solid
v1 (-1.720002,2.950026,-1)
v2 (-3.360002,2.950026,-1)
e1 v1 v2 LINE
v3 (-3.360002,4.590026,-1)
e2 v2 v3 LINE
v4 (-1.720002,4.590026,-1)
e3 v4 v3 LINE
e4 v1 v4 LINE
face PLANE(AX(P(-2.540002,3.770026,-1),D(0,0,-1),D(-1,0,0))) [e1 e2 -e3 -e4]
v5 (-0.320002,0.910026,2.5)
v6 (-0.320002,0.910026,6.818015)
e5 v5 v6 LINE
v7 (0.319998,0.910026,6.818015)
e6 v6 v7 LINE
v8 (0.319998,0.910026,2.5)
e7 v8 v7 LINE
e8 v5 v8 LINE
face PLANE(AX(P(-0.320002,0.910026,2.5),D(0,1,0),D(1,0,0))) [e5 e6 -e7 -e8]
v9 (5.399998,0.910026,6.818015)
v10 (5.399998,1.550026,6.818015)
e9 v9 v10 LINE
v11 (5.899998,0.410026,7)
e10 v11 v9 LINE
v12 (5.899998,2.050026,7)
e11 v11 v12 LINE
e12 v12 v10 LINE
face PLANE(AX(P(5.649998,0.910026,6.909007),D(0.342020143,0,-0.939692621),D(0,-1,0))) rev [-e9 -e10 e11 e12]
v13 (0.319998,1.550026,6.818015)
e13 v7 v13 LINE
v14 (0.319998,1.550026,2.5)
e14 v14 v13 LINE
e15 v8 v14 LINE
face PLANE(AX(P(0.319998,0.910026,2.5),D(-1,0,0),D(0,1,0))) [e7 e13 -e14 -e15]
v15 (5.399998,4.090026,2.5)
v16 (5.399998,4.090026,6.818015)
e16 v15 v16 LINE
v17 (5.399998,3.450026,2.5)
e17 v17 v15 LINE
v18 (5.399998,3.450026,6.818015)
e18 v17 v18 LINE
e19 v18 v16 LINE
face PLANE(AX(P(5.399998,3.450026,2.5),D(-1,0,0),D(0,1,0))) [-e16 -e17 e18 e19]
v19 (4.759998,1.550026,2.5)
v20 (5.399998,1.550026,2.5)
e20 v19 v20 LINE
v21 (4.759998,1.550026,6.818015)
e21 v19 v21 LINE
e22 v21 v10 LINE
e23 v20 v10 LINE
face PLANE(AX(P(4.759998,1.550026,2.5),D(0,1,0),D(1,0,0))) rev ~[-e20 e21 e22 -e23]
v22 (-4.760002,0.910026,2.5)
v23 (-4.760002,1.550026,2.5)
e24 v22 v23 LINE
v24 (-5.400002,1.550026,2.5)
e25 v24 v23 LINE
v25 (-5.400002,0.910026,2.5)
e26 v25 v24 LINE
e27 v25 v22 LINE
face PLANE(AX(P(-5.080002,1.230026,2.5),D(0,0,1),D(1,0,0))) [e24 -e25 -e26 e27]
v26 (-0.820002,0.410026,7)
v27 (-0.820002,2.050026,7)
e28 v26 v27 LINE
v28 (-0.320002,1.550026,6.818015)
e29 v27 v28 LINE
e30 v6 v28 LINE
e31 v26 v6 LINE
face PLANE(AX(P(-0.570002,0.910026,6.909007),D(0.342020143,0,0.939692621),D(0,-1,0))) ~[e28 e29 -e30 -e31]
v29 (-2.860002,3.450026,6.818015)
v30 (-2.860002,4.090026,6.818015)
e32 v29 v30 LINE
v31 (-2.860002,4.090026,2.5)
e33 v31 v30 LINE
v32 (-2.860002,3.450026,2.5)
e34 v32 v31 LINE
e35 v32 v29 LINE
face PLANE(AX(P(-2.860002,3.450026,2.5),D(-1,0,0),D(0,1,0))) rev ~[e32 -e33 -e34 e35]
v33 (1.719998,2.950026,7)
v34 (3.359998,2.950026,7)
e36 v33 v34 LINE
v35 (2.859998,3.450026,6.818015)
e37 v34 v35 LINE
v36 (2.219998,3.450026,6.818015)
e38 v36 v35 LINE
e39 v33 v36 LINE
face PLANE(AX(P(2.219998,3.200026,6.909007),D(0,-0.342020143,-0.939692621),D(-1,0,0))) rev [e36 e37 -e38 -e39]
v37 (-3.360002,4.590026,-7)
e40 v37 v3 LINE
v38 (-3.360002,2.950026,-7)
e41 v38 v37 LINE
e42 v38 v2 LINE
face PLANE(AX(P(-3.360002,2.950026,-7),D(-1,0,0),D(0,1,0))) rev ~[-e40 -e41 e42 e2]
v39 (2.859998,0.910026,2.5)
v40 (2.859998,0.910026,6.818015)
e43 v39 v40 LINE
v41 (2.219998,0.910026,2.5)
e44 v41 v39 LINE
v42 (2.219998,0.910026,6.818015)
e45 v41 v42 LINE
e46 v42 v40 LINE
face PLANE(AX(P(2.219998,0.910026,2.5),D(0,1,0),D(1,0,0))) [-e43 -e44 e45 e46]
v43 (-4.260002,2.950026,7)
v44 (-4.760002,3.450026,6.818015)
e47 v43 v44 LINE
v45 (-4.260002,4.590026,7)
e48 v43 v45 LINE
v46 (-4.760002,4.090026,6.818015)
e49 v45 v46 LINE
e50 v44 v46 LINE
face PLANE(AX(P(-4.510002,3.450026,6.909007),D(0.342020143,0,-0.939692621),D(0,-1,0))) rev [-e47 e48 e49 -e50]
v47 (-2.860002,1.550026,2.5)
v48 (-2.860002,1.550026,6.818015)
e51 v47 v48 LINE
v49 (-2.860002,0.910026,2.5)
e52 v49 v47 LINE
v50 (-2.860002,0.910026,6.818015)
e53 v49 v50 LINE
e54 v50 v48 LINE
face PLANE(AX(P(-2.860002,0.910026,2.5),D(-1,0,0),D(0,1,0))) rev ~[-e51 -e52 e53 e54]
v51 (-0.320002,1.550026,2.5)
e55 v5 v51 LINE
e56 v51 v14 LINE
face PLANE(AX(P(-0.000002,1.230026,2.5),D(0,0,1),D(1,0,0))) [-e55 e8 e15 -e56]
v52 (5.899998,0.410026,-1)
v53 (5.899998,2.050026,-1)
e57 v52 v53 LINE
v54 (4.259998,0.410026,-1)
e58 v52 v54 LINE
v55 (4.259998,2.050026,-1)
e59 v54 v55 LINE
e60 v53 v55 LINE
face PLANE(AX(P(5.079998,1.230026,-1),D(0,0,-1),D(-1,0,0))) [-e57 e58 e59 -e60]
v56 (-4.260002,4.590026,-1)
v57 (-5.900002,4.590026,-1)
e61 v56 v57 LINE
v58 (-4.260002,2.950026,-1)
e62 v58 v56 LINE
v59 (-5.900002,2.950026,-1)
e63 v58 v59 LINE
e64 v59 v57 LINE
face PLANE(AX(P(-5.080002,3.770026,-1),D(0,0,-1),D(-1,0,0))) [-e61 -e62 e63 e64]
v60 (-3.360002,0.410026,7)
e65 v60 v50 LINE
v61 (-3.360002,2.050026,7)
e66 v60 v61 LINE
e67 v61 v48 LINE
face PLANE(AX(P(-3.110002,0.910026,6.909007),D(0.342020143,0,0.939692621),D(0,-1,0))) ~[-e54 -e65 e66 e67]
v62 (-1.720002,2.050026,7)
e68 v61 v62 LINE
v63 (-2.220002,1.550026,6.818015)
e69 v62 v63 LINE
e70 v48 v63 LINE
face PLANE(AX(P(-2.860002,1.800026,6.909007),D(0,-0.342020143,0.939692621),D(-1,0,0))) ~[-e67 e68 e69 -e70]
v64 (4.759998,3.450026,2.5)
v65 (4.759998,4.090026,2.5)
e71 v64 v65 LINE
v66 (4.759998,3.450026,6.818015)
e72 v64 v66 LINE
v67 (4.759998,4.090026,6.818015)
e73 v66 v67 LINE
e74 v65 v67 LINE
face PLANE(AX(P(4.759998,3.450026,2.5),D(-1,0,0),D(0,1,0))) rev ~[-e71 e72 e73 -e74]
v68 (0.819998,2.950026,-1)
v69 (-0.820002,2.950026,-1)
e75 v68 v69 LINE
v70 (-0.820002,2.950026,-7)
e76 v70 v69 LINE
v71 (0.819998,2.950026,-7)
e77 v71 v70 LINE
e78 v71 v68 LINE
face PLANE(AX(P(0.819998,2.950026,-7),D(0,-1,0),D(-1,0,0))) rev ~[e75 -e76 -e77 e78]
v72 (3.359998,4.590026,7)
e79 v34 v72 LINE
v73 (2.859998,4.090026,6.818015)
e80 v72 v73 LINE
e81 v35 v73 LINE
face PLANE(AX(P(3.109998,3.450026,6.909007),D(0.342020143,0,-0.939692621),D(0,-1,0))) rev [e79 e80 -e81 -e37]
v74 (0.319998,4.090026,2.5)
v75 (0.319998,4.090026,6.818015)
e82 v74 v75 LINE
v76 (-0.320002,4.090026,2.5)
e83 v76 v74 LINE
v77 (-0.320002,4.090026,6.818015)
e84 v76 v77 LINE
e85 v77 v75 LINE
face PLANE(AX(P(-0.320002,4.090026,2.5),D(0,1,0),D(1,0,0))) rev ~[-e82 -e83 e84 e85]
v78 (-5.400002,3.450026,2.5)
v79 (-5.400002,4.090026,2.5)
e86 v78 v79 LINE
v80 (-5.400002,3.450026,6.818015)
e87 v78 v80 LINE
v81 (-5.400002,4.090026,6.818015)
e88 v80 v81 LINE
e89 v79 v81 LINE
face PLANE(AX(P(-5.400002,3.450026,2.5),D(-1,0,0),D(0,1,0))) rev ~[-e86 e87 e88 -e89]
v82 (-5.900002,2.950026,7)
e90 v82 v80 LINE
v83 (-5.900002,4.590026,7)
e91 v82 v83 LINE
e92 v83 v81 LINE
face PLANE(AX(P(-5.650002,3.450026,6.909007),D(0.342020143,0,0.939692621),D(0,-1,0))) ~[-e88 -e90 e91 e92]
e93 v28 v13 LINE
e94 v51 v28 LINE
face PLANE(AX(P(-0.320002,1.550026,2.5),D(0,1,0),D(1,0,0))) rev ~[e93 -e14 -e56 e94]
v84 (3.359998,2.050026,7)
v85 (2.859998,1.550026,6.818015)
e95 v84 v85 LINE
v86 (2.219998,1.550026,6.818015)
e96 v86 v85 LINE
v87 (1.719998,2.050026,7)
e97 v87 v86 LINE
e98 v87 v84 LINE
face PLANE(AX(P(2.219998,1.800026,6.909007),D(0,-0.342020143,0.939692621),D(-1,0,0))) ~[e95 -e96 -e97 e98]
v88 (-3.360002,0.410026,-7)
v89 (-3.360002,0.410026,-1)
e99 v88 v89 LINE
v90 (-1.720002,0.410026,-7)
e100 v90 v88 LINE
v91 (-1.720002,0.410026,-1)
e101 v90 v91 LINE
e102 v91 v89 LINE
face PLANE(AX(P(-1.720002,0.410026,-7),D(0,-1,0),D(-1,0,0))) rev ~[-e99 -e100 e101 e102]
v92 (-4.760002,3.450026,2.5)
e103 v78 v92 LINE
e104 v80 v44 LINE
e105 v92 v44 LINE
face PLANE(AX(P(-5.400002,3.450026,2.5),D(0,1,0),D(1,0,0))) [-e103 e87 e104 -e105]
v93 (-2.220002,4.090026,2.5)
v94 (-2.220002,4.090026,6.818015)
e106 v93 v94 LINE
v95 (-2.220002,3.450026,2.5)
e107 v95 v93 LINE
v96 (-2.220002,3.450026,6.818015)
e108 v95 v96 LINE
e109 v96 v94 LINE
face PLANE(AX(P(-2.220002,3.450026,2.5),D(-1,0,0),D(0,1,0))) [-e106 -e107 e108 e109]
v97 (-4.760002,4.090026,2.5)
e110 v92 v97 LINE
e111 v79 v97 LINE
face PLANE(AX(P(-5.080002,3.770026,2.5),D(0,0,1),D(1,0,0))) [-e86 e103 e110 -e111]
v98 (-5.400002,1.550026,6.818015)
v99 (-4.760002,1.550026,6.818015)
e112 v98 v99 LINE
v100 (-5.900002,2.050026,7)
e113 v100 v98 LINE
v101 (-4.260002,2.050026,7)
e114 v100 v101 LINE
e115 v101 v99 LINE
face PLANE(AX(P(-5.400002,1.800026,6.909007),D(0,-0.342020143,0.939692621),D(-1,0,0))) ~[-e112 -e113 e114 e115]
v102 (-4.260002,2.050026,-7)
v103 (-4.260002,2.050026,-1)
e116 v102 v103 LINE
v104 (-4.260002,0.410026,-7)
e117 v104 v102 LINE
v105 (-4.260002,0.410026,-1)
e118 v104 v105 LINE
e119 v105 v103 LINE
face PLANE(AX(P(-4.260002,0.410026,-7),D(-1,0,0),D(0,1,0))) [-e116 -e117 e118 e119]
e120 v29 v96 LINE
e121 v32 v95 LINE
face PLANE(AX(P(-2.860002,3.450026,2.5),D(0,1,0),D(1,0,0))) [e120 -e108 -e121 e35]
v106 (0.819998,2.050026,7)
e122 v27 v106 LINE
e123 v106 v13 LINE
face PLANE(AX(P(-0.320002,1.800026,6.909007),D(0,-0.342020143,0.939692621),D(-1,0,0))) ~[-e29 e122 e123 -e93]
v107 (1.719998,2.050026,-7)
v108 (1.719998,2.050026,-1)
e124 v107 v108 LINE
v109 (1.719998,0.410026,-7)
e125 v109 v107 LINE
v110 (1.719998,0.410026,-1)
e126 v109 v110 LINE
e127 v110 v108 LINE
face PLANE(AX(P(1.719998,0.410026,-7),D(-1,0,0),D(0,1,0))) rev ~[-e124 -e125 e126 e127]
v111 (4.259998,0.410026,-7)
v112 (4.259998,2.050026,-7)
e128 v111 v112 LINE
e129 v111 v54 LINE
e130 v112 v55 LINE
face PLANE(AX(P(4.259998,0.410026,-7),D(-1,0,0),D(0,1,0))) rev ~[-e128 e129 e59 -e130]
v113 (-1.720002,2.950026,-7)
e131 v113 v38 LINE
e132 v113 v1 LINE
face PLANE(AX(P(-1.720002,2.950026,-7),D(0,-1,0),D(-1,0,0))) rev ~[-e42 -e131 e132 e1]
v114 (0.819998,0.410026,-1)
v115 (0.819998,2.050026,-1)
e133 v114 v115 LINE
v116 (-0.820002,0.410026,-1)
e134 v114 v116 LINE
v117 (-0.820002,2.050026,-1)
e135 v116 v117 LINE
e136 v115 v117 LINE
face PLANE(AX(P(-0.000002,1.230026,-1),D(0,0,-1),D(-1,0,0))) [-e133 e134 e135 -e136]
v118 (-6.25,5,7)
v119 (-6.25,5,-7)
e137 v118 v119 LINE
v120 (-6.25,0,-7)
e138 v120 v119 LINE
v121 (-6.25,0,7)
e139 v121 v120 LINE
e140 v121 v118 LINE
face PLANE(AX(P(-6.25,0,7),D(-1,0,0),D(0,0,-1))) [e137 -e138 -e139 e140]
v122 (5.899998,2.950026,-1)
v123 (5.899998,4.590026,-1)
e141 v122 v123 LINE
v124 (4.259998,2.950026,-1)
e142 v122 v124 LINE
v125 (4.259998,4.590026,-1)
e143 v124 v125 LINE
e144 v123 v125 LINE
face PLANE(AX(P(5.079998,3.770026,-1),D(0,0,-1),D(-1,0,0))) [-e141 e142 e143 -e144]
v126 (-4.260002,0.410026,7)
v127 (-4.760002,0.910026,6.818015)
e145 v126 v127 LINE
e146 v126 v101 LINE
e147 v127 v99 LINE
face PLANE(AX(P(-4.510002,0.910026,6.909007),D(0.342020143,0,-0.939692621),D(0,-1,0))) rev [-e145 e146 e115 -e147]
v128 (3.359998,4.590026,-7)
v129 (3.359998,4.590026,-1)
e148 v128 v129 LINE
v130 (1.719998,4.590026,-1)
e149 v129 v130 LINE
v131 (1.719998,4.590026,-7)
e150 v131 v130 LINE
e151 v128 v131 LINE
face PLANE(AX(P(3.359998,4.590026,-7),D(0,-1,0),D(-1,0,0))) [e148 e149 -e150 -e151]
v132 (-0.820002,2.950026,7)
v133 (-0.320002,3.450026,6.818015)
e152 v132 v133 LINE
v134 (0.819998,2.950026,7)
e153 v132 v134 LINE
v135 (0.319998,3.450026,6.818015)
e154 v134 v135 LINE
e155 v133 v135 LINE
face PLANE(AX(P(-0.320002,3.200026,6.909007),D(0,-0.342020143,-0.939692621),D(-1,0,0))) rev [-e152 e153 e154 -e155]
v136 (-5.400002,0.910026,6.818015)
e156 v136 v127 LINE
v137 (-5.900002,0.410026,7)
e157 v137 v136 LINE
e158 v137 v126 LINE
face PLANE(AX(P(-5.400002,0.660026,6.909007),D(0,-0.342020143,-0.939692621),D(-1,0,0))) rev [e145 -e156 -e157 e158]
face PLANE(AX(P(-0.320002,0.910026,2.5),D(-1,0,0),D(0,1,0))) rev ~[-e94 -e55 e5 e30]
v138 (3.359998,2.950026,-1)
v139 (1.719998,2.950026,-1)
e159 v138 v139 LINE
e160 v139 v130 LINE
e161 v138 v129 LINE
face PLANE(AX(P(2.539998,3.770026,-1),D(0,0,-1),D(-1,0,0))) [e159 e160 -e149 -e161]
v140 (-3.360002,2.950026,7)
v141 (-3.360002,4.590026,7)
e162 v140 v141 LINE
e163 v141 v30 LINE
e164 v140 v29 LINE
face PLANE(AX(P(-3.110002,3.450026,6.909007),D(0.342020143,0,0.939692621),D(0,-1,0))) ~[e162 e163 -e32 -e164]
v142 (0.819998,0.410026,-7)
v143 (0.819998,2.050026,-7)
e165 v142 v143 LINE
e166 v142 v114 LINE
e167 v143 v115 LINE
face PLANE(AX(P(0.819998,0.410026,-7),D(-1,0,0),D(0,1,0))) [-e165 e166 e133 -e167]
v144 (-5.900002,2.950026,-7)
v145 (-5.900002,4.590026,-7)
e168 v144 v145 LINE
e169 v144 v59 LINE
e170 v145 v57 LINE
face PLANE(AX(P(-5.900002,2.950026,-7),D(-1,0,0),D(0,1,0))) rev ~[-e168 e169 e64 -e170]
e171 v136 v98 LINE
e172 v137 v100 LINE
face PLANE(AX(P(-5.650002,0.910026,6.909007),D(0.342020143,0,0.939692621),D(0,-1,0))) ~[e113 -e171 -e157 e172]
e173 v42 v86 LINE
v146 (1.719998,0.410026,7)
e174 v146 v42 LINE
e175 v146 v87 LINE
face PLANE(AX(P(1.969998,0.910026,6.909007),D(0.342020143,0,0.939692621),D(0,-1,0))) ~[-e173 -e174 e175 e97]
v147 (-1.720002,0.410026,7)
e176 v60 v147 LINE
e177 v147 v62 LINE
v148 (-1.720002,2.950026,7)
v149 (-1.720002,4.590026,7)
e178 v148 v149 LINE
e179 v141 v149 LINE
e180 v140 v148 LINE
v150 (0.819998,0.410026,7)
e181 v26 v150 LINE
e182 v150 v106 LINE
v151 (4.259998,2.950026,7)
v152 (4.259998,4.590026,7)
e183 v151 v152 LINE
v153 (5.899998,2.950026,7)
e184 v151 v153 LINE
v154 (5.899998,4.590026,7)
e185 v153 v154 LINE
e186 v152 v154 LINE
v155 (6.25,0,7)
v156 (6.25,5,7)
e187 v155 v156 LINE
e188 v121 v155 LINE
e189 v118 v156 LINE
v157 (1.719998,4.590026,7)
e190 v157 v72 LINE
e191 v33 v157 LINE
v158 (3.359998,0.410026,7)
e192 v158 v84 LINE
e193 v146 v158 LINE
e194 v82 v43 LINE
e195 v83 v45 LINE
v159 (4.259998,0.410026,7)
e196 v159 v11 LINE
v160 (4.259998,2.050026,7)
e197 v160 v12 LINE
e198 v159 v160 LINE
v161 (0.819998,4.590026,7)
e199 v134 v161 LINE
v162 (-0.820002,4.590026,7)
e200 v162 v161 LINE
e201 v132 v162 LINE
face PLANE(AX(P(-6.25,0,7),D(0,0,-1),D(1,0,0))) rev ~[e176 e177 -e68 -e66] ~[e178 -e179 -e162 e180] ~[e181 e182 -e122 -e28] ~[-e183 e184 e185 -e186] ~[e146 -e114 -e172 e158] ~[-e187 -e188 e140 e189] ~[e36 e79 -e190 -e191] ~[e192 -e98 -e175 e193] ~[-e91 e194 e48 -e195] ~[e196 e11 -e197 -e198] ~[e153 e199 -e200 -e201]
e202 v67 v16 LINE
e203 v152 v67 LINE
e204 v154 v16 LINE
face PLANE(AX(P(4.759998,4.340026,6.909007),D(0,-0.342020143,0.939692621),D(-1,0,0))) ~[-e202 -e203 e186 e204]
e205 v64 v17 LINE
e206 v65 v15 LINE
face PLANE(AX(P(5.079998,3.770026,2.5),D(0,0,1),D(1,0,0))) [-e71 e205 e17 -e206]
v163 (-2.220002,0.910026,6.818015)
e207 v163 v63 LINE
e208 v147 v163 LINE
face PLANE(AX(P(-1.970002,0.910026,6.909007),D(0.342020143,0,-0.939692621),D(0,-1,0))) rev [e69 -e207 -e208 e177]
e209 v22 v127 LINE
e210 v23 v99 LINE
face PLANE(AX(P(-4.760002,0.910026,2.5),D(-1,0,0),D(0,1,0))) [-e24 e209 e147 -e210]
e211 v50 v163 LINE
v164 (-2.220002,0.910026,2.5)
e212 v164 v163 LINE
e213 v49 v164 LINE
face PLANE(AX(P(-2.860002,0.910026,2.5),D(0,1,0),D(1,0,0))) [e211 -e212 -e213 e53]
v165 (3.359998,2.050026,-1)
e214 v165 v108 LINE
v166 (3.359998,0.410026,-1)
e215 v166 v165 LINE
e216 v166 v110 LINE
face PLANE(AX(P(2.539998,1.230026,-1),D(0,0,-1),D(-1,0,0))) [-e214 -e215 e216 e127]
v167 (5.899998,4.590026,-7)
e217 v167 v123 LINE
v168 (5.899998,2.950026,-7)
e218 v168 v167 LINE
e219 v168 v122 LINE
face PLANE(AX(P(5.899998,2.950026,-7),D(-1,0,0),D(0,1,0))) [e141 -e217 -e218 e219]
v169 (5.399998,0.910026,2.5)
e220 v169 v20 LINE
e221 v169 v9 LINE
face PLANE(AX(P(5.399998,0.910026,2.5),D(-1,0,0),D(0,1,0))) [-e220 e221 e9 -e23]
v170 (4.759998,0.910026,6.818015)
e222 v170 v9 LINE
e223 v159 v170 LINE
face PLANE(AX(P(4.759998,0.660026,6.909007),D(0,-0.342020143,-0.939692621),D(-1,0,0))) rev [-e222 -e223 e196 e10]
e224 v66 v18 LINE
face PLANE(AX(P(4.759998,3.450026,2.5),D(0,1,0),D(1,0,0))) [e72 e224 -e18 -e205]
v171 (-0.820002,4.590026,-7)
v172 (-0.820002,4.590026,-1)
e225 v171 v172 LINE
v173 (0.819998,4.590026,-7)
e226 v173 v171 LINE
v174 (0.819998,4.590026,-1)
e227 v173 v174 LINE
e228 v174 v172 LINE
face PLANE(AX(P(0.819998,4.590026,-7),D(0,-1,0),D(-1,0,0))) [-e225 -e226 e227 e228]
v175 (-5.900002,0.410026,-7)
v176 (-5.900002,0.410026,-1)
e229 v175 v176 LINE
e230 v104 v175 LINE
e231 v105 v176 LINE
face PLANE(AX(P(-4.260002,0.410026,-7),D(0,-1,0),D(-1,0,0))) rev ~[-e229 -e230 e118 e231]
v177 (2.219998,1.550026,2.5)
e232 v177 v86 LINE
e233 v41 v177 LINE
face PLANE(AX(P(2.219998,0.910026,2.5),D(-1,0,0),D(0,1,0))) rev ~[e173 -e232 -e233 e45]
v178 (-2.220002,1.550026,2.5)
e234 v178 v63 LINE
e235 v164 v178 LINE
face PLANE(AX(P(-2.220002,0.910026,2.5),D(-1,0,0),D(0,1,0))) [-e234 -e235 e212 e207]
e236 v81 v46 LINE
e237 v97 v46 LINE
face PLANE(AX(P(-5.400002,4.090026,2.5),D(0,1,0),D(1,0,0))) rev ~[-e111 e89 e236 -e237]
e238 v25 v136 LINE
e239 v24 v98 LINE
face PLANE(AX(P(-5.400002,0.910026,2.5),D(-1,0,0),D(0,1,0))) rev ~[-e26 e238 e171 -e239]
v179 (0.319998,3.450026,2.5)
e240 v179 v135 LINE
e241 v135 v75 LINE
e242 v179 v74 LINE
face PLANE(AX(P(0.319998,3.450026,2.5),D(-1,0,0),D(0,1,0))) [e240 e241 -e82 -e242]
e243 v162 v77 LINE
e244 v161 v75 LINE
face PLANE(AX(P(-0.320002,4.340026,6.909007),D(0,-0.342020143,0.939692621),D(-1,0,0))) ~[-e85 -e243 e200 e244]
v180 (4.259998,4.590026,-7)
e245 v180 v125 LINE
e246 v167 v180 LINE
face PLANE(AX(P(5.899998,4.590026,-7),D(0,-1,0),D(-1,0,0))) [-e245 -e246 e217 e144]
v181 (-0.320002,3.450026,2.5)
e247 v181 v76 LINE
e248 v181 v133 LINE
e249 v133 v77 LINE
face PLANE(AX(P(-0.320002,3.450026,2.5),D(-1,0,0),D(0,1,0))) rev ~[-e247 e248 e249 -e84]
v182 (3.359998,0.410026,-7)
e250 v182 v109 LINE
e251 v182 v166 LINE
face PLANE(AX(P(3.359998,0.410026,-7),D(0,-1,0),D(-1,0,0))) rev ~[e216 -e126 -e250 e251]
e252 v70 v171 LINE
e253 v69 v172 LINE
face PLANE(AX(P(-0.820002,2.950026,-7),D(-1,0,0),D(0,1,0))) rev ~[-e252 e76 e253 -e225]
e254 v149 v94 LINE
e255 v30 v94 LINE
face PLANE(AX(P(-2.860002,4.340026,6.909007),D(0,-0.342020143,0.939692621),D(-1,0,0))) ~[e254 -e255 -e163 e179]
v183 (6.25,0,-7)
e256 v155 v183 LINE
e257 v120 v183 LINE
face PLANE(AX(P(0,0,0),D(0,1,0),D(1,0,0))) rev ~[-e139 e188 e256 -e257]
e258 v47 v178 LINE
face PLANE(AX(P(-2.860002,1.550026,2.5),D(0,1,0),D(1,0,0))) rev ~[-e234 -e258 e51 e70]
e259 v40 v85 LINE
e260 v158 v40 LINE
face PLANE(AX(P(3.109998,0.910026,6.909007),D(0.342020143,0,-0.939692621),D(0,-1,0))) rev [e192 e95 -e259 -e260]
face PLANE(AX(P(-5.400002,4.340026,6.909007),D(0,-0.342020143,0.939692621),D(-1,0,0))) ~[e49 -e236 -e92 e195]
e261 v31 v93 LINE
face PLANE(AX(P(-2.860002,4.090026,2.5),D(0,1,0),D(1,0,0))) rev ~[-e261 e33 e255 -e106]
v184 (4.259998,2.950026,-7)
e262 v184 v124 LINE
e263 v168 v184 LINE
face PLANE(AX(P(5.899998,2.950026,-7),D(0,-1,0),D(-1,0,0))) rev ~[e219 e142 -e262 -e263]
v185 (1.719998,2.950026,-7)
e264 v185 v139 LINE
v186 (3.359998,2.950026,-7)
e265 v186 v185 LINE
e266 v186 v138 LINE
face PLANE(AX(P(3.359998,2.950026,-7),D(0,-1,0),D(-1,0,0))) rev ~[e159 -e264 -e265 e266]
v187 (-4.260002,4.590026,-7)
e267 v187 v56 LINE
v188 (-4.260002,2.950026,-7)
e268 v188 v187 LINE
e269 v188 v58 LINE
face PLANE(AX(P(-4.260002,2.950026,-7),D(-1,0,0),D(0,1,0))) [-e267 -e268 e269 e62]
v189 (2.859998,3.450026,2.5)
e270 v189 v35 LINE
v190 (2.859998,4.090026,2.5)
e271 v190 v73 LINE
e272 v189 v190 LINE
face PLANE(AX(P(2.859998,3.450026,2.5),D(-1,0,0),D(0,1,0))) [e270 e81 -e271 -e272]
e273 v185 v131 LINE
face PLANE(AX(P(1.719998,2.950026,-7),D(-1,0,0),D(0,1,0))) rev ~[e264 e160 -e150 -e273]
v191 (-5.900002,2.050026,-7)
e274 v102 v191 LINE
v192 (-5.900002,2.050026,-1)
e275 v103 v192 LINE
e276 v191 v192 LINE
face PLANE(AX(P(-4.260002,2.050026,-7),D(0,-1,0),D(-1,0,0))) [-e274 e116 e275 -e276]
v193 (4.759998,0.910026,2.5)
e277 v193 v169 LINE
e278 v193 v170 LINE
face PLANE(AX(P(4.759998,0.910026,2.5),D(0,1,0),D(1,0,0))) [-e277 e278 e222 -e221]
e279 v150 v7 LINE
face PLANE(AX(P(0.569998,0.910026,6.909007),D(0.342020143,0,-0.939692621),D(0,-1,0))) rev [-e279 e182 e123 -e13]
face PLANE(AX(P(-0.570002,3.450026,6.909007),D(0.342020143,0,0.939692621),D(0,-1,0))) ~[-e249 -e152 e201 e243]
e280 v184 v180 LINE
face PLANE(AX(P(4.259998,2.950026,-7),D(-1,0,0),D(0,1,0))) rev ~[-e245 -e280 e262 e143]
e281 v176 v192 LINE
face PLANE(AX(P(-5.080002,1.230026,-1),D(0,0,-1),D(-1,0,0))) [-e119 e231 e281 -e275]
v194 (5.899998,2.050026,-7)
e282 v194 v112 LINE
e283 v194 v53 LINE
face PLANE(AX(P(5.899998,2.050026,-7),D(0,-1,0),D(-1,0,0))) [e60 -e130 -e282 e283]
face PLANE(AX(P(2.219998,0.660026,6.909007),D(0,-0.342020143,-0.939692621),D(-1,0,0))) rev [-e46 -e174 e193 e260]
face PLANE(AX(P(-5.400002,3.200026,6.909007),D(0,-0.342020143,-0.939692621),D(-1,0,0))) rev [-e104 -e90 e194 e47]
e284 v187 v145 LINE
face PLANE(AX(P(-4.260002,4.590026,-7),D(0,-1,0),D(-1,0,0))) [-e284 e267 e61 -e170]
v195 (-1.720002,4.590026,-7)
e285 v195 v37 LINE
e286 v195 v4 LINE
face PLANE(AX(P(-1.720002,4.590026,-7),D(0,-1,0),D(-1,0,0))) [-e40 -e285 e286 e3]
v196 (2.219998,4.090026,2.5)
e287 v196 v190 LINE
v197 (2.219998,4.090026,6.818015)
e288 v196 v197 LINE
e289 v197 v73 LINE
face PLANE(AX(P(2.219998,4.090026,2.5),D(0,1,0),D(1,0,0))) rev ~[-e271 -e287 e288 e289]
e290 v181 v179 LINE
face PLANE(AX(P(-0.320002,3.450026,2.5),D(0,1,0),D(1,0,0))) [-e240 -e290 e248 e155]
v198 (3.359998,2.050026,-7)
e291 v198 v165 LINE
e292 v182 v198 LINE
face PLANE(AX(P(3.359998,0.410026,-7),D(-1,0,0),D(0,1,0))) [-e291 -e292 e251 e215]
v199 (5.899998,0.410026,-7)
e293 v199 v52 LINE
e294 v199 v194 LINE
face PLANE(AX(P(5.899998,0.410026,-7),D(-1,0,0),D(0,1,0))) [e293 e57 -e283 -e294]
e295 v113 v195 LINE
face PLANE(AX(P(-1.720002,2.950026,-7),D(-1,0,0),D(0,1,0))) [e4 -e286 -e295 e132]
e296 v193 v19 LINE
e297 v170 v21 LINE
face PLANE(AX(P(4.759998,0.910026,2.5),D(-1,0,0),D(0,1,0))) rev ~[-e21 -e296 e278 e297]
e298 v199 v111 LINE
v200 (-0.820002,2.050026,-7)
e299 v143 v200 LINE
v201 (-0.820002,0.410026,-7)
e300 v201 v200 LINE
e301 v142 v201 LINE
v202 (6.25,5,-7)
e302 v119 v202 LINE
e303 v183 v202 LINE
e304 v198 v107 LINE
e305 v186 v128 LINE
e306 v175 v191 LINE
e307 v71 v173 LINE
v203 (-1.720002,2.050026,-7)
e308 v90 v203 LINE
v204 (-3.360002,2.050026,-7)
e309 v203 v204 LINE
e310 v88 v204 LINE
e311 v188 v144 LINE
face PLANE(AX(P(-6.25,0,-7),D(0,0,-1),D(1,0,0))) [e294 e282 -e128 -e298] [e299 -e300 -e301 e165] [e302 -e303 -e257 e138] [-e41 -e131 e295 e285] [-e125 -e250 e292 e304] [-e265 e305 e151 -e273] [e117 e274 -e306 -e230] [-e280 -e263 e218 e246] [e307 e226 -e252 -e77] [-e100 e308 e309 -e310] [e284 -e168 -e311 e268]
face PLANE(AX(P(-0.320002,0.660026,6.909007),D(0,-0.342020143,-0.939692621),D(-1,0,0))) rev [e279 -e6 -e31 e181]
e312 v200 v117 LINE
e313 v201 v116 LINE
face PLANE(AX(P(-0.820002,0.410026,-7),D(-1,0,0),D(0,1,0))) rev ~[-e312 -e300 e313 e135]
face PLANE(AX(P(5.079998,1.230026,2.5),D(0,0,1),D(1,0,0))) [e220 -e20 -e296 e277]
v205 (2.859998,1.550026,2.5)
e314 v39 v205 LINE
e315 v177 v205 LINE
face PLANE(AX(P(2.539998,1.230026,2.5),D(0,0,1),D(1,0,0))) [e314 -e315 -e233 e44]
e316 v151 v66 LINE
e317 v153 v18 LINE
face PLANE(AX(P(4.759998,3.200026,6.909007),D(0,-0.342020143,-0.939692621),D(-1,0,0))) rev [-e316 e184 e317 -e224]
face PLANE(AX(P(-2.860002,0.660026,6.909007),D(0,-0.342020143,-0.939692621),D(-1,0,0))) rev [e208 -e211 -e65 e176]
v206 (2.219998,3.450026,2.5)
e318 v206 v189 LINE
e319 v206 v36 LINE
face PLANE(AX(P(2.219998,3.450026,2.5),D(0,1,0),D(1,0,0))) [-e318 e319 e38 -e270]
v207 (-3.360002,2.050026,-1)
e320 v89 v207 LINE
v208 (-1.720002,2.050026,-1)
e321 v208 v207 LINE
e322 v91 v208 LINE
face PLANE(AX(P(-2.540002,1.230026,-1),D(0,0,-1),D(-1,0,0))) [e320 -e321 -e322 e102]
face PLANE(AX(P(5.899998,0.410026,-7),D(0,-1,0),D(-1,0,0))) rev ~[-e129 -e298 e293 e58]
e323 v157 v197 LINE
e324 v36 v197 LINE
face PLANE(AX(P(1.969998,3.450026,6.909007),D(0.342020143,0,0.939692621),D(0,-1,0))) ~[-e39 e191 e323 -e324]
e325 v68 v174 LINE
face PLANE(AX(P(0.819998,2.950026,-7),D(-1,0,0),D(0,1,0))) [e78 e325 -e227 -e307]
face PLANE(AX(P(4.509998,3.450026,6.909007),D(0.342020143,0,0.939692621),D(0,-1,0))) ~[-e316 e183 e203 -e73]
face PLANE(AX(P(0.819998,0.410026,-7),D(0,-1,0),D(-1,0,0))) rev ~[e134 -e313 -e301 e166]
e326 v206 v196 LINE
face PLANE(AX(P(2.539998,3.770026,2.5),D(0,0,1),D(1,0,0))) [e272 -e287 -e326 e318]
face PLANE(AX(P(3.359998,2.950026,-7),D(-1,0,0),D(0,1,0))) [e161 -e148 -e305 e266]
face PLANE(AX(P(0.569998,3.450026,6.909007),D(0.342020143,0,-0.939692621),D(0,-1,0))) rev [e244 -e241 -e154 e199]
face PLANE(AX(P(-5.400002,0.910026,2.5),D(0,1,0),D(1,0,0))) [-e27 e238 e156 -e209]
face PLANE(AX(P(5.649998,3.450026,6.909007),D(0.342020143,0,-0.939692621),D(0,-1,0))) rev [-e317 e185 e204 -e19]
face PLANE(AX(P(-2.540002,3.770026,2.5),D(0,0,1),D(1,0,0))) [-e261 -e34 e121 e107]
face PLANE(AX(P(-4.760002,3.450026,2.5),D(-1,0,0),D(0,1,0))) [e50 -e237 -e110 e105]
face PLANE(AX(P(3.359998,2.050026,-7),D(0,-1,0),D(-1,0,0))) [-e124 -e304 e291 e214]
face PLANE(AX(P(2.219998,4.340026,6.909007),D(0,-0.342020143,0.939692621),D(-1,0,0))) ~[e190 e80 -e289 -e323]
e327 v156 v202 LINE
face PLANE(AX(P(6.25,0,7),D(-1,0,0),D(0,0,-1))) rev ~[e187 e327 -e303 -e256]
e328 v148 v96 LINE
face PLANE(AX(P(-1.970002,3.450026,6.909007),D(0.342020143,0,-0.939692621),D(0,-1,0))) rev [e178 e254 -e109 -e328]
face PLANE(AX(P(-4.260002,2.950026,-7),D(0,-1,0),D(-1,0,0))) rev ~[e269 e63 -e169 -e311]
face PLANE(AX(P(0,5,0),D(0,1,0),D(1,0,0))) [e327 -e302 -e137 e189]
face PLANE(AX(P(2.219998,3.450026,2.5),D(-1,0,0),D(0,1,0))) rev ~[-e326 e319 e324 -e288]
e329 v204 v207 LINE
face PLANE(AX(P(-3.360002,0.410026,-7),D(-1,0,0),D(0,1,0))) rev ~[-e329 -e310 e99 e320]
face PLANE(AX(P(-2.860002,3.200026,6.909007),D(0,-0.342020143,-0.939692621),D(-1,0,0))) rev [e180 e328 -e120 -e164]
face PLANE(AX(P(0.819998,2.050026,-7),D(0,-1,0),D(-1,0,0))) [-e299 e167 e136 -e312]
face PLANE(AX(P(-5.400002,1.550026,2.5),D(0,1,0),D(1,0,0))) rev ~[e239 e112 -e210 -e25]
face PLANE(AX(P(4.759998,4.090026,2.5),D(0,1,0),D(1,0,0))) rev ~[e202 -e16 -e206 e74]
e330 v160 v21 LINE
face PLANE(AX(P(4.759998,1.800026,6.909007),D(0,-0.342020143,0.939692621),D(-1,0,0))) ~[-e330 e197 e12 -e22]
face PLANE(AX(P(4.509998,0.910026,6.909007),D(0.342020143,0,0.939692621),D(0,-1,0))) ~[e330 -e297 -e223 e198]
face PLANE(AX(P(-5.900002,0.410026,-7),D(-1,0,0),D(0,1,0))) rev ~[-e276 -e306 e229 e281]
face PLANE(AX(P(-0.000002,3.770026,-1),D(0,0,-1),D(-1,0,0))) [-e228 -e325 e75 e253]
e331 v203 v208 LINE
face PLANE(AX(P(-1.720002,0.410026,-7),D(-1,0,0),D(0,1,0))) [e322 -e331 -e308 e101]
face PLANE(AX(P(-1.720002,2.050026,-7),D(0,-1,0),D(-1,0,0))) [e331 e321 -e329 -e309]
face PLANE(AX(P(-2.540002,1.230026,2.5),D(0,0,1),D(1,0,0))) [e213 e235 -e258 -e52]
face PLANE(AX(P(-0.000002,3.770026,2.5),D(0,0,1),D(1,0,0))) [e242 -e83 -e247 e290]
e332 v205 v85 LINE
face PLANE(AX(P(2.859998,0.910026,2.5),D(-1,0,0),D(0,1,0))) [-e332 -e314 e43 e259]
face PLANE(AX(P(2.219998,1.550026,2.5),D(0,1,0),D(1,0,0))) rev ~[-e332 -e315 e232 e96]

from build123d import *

# Parameters (mm, degrees)
SKETCH1_W           = 12.5
SKETCH1_H           = 14
BOSS_EXTRUDE1_DEPTH = 5
CUT_EXTRUDE1_START  = -4.5
SKETCH3_W           = 0.63999998
SKETCH3_H           = 0.639999981
SKETCH3_W_2         = 0.639999981
CUT_EXTRUDE1_DEPTH  = 4.5
CHAMFER1_SIZE       = 0.5
CHAMFER1_SIZE2      = 0.181985117
SKETCH4_W           = 1.639999981
SKETCH4_H           = 1.639999981
SKETCH4_W_2         = 1.63999998
CUT_EXTRUDE2_DEPTH  = 6


with BuildPart() as part:
    # Sketch1 → Boss-Extrude1 (new body)
    with BuildSketch(Plane(origin=(0, 0, 0), x_dir=(1, 0, 0), z_dir=(0, 1, 0))):
        Rectangle(SKETCH1_W, SKETCH1_H)
    extrude(amount=BOSS_EXTRUDE1_DEPTH)

    # Sketch3 → Cut-Extrude1 (cut)
    with BuildSketch(Plane.XY.offset(7).offset(CUT_EXTRUDE1_START)):
        with Locations((-5.080001681, 1.230026097)):
            Rectangle(SKETCH3_W, SKETCH3_H)
        with Locations((-2.540001758, 1.230026097)):
            Rectangle(SKETCH3_W_2, SKETCH3_H)
        with Locations((-1.834e-06, 1.230026097)):
            Rectangle(SKETCH3_W_2, SKETCH3_H)
        with Locations((2.539998088, 1.230026097)):
            Rectangle(SKETCH3_W_2, SKETCH3_H)
        with Locations((5.079998012, 1.230026097)):
            Rectangle(SKETCH3_W_2, SKETCH3_H)
        with Locations((5.079998012, 3.770026019)):
            Rectangle(SKETCH3_W_2, SKETCH3_H)
        with Locations((2.539998088, 3.770026019)):
            Rectangle(SKETCH3_W_2, SKETCH3_H)
        with Locations((-1.834e-06, 3.770026019)):
            Rectangle(SKETCH3_W_2, SKETCH3_H)
        with Locations((-2.540001758, 3.770026019)):
            Rectangle(SKETCH3_W_2, SKETCH3_H)
        with Locations((-5.080001681, 3.770026019)):
            Rectangle(SKETCH3_W, SKETCH3_H)
    extrude(amount=CUT_EXTRUDE1_DEPTH, mode=Mode.SUBTRACT)

    # Chamfer1
    chamfer1_edges = [part.edges().sort_by_distance(p)[0] for p in [
        (4.759998021, 1.230026096, 7),
        (5.079998011, 0.910026106, 7),
        (2.539998088, 1.550026087, 7),
        (2.219998098, 1.230026096, 7),
        (2.539998088, 0.910026106, 7),
        (2.859998079, 1.230026096, 7),
        (0.319998156, 1.230026096, 7),
        (-1.835e-06, 1.550026087, 7),
        (-0.320001825, 1.230026096, 7),
        (-1.835e-06, 0.910026106, 7),
        (-2.220001767, 1.230026096, 7),
        (-2.540001758, 1.550026087, 7),
        (-2.860001748, 1.230026096, 7),
        (-2.540001758, 0.910026106, 7),
        (-5.080001681, 0.910026106, 7),
        (-4.760001691, 1.230026096, 7),
        (-5.080001681, 1.550026087, 7),
        (-5.400001671, 1.230026096, 7),
        (-5.080001681, 3.450026029, 7),
        (-4.760001691, 3.77002602, 7),
        (-5.080001681, 4.09002601, 7),
        (-5.400001671, 3.77002602, 7),
        (-2.540001758, 4.09002601, 7),
        (-2.860001748, 3.77002602, 7),
        (-2.540001758, 3.450026029, 7),
        (-2.220001767, 3.77002602, 7),
        (0.319998156, 3.77002602, 7),
        (-1.835e-06, 4.09002601, 7),
        (-0.320001825, 3.77002602, 7),
        (-1.835e-06, 3.450026029, 7),
        (2.859998079, 3.77002602, 7),
        (2.539998088, 4.09002601, 7),
        (2.219998098, 3.77002602, 7),
        (2.539998088, 3.450026029, 7),
        (5.079998011, 4.09002601, 7),
        (4.759998021, 3.77002602, 7),
        (5.079998011, 3.450026029, 7),
        (5.399998002, 3.77002602, 7),
        (5.399998002, 1.230026096, 7),
        (5.079998011, 1.550026087, 7),
    ]]
    chamfer1_side = [part.faces().sort_by_distance(p)[0] for p in [
        (1.29e-07, 2.499998172, 7),
    ]]
    chamfer(chamfer1_edges, length=CHAMFER1_SIZE, length2=CHAMFER1_SIZE2, reference=chamfer1_side[0])

    # Sketch4 → Cut-Extrude2 (cut)
    with BuildSketch(Plane(origin=(0, 0, -7), x_dir=(-1, 0, 0), z_dir=(0, 0, -1))):
        with Locations((-5.079998012, 1.230026097)):
            Rectangle(SKETCH4_W, SKETCH4_H)
        with Locations((-2.539998088, 1.230026097)):
            Rectangle(SKETCH4_W, SKETCH4_H)
        with Locations((1.835e-06, 1.230026097)):
            Rectangle(SKETCH4_W, SKETCH4_H)
        with Locations((2.540001758, 1.230026097)):
            Rectangle(SKETCH4_W, SKETCH4_H)
        with Locations((5.080001681, 1.230026097)):
            Rectangle(SKETCH4_W_2, SKETCH4_H)
        with Locations((5.080001681, 3.770026019)):
            Rectangle(SKETCH4_W_2, SKETCH4_H)
        with Locations((2.540001758, 3.770026019)):
            Rectangle(SKETCH4_W, SKETCH4_H)
        with Locations((1.835e-06, 3.770026019)):
            Rectangle(SKETCH4_W, SKETCH4_H)
        with Locations((-2.539998088, 3.770026019)):
            Rectangle(SKETCH4_W, SKETCH4_H)
        with Locations((-5.079998012, 3.770026019)):
            Rectangle(SKETCH4_W, SKETCH4_H)
    extrude(amount=-CUT_EXTRUDE2_DEPTH, mode=Mode.SUBTRACT)


solid = part.part
